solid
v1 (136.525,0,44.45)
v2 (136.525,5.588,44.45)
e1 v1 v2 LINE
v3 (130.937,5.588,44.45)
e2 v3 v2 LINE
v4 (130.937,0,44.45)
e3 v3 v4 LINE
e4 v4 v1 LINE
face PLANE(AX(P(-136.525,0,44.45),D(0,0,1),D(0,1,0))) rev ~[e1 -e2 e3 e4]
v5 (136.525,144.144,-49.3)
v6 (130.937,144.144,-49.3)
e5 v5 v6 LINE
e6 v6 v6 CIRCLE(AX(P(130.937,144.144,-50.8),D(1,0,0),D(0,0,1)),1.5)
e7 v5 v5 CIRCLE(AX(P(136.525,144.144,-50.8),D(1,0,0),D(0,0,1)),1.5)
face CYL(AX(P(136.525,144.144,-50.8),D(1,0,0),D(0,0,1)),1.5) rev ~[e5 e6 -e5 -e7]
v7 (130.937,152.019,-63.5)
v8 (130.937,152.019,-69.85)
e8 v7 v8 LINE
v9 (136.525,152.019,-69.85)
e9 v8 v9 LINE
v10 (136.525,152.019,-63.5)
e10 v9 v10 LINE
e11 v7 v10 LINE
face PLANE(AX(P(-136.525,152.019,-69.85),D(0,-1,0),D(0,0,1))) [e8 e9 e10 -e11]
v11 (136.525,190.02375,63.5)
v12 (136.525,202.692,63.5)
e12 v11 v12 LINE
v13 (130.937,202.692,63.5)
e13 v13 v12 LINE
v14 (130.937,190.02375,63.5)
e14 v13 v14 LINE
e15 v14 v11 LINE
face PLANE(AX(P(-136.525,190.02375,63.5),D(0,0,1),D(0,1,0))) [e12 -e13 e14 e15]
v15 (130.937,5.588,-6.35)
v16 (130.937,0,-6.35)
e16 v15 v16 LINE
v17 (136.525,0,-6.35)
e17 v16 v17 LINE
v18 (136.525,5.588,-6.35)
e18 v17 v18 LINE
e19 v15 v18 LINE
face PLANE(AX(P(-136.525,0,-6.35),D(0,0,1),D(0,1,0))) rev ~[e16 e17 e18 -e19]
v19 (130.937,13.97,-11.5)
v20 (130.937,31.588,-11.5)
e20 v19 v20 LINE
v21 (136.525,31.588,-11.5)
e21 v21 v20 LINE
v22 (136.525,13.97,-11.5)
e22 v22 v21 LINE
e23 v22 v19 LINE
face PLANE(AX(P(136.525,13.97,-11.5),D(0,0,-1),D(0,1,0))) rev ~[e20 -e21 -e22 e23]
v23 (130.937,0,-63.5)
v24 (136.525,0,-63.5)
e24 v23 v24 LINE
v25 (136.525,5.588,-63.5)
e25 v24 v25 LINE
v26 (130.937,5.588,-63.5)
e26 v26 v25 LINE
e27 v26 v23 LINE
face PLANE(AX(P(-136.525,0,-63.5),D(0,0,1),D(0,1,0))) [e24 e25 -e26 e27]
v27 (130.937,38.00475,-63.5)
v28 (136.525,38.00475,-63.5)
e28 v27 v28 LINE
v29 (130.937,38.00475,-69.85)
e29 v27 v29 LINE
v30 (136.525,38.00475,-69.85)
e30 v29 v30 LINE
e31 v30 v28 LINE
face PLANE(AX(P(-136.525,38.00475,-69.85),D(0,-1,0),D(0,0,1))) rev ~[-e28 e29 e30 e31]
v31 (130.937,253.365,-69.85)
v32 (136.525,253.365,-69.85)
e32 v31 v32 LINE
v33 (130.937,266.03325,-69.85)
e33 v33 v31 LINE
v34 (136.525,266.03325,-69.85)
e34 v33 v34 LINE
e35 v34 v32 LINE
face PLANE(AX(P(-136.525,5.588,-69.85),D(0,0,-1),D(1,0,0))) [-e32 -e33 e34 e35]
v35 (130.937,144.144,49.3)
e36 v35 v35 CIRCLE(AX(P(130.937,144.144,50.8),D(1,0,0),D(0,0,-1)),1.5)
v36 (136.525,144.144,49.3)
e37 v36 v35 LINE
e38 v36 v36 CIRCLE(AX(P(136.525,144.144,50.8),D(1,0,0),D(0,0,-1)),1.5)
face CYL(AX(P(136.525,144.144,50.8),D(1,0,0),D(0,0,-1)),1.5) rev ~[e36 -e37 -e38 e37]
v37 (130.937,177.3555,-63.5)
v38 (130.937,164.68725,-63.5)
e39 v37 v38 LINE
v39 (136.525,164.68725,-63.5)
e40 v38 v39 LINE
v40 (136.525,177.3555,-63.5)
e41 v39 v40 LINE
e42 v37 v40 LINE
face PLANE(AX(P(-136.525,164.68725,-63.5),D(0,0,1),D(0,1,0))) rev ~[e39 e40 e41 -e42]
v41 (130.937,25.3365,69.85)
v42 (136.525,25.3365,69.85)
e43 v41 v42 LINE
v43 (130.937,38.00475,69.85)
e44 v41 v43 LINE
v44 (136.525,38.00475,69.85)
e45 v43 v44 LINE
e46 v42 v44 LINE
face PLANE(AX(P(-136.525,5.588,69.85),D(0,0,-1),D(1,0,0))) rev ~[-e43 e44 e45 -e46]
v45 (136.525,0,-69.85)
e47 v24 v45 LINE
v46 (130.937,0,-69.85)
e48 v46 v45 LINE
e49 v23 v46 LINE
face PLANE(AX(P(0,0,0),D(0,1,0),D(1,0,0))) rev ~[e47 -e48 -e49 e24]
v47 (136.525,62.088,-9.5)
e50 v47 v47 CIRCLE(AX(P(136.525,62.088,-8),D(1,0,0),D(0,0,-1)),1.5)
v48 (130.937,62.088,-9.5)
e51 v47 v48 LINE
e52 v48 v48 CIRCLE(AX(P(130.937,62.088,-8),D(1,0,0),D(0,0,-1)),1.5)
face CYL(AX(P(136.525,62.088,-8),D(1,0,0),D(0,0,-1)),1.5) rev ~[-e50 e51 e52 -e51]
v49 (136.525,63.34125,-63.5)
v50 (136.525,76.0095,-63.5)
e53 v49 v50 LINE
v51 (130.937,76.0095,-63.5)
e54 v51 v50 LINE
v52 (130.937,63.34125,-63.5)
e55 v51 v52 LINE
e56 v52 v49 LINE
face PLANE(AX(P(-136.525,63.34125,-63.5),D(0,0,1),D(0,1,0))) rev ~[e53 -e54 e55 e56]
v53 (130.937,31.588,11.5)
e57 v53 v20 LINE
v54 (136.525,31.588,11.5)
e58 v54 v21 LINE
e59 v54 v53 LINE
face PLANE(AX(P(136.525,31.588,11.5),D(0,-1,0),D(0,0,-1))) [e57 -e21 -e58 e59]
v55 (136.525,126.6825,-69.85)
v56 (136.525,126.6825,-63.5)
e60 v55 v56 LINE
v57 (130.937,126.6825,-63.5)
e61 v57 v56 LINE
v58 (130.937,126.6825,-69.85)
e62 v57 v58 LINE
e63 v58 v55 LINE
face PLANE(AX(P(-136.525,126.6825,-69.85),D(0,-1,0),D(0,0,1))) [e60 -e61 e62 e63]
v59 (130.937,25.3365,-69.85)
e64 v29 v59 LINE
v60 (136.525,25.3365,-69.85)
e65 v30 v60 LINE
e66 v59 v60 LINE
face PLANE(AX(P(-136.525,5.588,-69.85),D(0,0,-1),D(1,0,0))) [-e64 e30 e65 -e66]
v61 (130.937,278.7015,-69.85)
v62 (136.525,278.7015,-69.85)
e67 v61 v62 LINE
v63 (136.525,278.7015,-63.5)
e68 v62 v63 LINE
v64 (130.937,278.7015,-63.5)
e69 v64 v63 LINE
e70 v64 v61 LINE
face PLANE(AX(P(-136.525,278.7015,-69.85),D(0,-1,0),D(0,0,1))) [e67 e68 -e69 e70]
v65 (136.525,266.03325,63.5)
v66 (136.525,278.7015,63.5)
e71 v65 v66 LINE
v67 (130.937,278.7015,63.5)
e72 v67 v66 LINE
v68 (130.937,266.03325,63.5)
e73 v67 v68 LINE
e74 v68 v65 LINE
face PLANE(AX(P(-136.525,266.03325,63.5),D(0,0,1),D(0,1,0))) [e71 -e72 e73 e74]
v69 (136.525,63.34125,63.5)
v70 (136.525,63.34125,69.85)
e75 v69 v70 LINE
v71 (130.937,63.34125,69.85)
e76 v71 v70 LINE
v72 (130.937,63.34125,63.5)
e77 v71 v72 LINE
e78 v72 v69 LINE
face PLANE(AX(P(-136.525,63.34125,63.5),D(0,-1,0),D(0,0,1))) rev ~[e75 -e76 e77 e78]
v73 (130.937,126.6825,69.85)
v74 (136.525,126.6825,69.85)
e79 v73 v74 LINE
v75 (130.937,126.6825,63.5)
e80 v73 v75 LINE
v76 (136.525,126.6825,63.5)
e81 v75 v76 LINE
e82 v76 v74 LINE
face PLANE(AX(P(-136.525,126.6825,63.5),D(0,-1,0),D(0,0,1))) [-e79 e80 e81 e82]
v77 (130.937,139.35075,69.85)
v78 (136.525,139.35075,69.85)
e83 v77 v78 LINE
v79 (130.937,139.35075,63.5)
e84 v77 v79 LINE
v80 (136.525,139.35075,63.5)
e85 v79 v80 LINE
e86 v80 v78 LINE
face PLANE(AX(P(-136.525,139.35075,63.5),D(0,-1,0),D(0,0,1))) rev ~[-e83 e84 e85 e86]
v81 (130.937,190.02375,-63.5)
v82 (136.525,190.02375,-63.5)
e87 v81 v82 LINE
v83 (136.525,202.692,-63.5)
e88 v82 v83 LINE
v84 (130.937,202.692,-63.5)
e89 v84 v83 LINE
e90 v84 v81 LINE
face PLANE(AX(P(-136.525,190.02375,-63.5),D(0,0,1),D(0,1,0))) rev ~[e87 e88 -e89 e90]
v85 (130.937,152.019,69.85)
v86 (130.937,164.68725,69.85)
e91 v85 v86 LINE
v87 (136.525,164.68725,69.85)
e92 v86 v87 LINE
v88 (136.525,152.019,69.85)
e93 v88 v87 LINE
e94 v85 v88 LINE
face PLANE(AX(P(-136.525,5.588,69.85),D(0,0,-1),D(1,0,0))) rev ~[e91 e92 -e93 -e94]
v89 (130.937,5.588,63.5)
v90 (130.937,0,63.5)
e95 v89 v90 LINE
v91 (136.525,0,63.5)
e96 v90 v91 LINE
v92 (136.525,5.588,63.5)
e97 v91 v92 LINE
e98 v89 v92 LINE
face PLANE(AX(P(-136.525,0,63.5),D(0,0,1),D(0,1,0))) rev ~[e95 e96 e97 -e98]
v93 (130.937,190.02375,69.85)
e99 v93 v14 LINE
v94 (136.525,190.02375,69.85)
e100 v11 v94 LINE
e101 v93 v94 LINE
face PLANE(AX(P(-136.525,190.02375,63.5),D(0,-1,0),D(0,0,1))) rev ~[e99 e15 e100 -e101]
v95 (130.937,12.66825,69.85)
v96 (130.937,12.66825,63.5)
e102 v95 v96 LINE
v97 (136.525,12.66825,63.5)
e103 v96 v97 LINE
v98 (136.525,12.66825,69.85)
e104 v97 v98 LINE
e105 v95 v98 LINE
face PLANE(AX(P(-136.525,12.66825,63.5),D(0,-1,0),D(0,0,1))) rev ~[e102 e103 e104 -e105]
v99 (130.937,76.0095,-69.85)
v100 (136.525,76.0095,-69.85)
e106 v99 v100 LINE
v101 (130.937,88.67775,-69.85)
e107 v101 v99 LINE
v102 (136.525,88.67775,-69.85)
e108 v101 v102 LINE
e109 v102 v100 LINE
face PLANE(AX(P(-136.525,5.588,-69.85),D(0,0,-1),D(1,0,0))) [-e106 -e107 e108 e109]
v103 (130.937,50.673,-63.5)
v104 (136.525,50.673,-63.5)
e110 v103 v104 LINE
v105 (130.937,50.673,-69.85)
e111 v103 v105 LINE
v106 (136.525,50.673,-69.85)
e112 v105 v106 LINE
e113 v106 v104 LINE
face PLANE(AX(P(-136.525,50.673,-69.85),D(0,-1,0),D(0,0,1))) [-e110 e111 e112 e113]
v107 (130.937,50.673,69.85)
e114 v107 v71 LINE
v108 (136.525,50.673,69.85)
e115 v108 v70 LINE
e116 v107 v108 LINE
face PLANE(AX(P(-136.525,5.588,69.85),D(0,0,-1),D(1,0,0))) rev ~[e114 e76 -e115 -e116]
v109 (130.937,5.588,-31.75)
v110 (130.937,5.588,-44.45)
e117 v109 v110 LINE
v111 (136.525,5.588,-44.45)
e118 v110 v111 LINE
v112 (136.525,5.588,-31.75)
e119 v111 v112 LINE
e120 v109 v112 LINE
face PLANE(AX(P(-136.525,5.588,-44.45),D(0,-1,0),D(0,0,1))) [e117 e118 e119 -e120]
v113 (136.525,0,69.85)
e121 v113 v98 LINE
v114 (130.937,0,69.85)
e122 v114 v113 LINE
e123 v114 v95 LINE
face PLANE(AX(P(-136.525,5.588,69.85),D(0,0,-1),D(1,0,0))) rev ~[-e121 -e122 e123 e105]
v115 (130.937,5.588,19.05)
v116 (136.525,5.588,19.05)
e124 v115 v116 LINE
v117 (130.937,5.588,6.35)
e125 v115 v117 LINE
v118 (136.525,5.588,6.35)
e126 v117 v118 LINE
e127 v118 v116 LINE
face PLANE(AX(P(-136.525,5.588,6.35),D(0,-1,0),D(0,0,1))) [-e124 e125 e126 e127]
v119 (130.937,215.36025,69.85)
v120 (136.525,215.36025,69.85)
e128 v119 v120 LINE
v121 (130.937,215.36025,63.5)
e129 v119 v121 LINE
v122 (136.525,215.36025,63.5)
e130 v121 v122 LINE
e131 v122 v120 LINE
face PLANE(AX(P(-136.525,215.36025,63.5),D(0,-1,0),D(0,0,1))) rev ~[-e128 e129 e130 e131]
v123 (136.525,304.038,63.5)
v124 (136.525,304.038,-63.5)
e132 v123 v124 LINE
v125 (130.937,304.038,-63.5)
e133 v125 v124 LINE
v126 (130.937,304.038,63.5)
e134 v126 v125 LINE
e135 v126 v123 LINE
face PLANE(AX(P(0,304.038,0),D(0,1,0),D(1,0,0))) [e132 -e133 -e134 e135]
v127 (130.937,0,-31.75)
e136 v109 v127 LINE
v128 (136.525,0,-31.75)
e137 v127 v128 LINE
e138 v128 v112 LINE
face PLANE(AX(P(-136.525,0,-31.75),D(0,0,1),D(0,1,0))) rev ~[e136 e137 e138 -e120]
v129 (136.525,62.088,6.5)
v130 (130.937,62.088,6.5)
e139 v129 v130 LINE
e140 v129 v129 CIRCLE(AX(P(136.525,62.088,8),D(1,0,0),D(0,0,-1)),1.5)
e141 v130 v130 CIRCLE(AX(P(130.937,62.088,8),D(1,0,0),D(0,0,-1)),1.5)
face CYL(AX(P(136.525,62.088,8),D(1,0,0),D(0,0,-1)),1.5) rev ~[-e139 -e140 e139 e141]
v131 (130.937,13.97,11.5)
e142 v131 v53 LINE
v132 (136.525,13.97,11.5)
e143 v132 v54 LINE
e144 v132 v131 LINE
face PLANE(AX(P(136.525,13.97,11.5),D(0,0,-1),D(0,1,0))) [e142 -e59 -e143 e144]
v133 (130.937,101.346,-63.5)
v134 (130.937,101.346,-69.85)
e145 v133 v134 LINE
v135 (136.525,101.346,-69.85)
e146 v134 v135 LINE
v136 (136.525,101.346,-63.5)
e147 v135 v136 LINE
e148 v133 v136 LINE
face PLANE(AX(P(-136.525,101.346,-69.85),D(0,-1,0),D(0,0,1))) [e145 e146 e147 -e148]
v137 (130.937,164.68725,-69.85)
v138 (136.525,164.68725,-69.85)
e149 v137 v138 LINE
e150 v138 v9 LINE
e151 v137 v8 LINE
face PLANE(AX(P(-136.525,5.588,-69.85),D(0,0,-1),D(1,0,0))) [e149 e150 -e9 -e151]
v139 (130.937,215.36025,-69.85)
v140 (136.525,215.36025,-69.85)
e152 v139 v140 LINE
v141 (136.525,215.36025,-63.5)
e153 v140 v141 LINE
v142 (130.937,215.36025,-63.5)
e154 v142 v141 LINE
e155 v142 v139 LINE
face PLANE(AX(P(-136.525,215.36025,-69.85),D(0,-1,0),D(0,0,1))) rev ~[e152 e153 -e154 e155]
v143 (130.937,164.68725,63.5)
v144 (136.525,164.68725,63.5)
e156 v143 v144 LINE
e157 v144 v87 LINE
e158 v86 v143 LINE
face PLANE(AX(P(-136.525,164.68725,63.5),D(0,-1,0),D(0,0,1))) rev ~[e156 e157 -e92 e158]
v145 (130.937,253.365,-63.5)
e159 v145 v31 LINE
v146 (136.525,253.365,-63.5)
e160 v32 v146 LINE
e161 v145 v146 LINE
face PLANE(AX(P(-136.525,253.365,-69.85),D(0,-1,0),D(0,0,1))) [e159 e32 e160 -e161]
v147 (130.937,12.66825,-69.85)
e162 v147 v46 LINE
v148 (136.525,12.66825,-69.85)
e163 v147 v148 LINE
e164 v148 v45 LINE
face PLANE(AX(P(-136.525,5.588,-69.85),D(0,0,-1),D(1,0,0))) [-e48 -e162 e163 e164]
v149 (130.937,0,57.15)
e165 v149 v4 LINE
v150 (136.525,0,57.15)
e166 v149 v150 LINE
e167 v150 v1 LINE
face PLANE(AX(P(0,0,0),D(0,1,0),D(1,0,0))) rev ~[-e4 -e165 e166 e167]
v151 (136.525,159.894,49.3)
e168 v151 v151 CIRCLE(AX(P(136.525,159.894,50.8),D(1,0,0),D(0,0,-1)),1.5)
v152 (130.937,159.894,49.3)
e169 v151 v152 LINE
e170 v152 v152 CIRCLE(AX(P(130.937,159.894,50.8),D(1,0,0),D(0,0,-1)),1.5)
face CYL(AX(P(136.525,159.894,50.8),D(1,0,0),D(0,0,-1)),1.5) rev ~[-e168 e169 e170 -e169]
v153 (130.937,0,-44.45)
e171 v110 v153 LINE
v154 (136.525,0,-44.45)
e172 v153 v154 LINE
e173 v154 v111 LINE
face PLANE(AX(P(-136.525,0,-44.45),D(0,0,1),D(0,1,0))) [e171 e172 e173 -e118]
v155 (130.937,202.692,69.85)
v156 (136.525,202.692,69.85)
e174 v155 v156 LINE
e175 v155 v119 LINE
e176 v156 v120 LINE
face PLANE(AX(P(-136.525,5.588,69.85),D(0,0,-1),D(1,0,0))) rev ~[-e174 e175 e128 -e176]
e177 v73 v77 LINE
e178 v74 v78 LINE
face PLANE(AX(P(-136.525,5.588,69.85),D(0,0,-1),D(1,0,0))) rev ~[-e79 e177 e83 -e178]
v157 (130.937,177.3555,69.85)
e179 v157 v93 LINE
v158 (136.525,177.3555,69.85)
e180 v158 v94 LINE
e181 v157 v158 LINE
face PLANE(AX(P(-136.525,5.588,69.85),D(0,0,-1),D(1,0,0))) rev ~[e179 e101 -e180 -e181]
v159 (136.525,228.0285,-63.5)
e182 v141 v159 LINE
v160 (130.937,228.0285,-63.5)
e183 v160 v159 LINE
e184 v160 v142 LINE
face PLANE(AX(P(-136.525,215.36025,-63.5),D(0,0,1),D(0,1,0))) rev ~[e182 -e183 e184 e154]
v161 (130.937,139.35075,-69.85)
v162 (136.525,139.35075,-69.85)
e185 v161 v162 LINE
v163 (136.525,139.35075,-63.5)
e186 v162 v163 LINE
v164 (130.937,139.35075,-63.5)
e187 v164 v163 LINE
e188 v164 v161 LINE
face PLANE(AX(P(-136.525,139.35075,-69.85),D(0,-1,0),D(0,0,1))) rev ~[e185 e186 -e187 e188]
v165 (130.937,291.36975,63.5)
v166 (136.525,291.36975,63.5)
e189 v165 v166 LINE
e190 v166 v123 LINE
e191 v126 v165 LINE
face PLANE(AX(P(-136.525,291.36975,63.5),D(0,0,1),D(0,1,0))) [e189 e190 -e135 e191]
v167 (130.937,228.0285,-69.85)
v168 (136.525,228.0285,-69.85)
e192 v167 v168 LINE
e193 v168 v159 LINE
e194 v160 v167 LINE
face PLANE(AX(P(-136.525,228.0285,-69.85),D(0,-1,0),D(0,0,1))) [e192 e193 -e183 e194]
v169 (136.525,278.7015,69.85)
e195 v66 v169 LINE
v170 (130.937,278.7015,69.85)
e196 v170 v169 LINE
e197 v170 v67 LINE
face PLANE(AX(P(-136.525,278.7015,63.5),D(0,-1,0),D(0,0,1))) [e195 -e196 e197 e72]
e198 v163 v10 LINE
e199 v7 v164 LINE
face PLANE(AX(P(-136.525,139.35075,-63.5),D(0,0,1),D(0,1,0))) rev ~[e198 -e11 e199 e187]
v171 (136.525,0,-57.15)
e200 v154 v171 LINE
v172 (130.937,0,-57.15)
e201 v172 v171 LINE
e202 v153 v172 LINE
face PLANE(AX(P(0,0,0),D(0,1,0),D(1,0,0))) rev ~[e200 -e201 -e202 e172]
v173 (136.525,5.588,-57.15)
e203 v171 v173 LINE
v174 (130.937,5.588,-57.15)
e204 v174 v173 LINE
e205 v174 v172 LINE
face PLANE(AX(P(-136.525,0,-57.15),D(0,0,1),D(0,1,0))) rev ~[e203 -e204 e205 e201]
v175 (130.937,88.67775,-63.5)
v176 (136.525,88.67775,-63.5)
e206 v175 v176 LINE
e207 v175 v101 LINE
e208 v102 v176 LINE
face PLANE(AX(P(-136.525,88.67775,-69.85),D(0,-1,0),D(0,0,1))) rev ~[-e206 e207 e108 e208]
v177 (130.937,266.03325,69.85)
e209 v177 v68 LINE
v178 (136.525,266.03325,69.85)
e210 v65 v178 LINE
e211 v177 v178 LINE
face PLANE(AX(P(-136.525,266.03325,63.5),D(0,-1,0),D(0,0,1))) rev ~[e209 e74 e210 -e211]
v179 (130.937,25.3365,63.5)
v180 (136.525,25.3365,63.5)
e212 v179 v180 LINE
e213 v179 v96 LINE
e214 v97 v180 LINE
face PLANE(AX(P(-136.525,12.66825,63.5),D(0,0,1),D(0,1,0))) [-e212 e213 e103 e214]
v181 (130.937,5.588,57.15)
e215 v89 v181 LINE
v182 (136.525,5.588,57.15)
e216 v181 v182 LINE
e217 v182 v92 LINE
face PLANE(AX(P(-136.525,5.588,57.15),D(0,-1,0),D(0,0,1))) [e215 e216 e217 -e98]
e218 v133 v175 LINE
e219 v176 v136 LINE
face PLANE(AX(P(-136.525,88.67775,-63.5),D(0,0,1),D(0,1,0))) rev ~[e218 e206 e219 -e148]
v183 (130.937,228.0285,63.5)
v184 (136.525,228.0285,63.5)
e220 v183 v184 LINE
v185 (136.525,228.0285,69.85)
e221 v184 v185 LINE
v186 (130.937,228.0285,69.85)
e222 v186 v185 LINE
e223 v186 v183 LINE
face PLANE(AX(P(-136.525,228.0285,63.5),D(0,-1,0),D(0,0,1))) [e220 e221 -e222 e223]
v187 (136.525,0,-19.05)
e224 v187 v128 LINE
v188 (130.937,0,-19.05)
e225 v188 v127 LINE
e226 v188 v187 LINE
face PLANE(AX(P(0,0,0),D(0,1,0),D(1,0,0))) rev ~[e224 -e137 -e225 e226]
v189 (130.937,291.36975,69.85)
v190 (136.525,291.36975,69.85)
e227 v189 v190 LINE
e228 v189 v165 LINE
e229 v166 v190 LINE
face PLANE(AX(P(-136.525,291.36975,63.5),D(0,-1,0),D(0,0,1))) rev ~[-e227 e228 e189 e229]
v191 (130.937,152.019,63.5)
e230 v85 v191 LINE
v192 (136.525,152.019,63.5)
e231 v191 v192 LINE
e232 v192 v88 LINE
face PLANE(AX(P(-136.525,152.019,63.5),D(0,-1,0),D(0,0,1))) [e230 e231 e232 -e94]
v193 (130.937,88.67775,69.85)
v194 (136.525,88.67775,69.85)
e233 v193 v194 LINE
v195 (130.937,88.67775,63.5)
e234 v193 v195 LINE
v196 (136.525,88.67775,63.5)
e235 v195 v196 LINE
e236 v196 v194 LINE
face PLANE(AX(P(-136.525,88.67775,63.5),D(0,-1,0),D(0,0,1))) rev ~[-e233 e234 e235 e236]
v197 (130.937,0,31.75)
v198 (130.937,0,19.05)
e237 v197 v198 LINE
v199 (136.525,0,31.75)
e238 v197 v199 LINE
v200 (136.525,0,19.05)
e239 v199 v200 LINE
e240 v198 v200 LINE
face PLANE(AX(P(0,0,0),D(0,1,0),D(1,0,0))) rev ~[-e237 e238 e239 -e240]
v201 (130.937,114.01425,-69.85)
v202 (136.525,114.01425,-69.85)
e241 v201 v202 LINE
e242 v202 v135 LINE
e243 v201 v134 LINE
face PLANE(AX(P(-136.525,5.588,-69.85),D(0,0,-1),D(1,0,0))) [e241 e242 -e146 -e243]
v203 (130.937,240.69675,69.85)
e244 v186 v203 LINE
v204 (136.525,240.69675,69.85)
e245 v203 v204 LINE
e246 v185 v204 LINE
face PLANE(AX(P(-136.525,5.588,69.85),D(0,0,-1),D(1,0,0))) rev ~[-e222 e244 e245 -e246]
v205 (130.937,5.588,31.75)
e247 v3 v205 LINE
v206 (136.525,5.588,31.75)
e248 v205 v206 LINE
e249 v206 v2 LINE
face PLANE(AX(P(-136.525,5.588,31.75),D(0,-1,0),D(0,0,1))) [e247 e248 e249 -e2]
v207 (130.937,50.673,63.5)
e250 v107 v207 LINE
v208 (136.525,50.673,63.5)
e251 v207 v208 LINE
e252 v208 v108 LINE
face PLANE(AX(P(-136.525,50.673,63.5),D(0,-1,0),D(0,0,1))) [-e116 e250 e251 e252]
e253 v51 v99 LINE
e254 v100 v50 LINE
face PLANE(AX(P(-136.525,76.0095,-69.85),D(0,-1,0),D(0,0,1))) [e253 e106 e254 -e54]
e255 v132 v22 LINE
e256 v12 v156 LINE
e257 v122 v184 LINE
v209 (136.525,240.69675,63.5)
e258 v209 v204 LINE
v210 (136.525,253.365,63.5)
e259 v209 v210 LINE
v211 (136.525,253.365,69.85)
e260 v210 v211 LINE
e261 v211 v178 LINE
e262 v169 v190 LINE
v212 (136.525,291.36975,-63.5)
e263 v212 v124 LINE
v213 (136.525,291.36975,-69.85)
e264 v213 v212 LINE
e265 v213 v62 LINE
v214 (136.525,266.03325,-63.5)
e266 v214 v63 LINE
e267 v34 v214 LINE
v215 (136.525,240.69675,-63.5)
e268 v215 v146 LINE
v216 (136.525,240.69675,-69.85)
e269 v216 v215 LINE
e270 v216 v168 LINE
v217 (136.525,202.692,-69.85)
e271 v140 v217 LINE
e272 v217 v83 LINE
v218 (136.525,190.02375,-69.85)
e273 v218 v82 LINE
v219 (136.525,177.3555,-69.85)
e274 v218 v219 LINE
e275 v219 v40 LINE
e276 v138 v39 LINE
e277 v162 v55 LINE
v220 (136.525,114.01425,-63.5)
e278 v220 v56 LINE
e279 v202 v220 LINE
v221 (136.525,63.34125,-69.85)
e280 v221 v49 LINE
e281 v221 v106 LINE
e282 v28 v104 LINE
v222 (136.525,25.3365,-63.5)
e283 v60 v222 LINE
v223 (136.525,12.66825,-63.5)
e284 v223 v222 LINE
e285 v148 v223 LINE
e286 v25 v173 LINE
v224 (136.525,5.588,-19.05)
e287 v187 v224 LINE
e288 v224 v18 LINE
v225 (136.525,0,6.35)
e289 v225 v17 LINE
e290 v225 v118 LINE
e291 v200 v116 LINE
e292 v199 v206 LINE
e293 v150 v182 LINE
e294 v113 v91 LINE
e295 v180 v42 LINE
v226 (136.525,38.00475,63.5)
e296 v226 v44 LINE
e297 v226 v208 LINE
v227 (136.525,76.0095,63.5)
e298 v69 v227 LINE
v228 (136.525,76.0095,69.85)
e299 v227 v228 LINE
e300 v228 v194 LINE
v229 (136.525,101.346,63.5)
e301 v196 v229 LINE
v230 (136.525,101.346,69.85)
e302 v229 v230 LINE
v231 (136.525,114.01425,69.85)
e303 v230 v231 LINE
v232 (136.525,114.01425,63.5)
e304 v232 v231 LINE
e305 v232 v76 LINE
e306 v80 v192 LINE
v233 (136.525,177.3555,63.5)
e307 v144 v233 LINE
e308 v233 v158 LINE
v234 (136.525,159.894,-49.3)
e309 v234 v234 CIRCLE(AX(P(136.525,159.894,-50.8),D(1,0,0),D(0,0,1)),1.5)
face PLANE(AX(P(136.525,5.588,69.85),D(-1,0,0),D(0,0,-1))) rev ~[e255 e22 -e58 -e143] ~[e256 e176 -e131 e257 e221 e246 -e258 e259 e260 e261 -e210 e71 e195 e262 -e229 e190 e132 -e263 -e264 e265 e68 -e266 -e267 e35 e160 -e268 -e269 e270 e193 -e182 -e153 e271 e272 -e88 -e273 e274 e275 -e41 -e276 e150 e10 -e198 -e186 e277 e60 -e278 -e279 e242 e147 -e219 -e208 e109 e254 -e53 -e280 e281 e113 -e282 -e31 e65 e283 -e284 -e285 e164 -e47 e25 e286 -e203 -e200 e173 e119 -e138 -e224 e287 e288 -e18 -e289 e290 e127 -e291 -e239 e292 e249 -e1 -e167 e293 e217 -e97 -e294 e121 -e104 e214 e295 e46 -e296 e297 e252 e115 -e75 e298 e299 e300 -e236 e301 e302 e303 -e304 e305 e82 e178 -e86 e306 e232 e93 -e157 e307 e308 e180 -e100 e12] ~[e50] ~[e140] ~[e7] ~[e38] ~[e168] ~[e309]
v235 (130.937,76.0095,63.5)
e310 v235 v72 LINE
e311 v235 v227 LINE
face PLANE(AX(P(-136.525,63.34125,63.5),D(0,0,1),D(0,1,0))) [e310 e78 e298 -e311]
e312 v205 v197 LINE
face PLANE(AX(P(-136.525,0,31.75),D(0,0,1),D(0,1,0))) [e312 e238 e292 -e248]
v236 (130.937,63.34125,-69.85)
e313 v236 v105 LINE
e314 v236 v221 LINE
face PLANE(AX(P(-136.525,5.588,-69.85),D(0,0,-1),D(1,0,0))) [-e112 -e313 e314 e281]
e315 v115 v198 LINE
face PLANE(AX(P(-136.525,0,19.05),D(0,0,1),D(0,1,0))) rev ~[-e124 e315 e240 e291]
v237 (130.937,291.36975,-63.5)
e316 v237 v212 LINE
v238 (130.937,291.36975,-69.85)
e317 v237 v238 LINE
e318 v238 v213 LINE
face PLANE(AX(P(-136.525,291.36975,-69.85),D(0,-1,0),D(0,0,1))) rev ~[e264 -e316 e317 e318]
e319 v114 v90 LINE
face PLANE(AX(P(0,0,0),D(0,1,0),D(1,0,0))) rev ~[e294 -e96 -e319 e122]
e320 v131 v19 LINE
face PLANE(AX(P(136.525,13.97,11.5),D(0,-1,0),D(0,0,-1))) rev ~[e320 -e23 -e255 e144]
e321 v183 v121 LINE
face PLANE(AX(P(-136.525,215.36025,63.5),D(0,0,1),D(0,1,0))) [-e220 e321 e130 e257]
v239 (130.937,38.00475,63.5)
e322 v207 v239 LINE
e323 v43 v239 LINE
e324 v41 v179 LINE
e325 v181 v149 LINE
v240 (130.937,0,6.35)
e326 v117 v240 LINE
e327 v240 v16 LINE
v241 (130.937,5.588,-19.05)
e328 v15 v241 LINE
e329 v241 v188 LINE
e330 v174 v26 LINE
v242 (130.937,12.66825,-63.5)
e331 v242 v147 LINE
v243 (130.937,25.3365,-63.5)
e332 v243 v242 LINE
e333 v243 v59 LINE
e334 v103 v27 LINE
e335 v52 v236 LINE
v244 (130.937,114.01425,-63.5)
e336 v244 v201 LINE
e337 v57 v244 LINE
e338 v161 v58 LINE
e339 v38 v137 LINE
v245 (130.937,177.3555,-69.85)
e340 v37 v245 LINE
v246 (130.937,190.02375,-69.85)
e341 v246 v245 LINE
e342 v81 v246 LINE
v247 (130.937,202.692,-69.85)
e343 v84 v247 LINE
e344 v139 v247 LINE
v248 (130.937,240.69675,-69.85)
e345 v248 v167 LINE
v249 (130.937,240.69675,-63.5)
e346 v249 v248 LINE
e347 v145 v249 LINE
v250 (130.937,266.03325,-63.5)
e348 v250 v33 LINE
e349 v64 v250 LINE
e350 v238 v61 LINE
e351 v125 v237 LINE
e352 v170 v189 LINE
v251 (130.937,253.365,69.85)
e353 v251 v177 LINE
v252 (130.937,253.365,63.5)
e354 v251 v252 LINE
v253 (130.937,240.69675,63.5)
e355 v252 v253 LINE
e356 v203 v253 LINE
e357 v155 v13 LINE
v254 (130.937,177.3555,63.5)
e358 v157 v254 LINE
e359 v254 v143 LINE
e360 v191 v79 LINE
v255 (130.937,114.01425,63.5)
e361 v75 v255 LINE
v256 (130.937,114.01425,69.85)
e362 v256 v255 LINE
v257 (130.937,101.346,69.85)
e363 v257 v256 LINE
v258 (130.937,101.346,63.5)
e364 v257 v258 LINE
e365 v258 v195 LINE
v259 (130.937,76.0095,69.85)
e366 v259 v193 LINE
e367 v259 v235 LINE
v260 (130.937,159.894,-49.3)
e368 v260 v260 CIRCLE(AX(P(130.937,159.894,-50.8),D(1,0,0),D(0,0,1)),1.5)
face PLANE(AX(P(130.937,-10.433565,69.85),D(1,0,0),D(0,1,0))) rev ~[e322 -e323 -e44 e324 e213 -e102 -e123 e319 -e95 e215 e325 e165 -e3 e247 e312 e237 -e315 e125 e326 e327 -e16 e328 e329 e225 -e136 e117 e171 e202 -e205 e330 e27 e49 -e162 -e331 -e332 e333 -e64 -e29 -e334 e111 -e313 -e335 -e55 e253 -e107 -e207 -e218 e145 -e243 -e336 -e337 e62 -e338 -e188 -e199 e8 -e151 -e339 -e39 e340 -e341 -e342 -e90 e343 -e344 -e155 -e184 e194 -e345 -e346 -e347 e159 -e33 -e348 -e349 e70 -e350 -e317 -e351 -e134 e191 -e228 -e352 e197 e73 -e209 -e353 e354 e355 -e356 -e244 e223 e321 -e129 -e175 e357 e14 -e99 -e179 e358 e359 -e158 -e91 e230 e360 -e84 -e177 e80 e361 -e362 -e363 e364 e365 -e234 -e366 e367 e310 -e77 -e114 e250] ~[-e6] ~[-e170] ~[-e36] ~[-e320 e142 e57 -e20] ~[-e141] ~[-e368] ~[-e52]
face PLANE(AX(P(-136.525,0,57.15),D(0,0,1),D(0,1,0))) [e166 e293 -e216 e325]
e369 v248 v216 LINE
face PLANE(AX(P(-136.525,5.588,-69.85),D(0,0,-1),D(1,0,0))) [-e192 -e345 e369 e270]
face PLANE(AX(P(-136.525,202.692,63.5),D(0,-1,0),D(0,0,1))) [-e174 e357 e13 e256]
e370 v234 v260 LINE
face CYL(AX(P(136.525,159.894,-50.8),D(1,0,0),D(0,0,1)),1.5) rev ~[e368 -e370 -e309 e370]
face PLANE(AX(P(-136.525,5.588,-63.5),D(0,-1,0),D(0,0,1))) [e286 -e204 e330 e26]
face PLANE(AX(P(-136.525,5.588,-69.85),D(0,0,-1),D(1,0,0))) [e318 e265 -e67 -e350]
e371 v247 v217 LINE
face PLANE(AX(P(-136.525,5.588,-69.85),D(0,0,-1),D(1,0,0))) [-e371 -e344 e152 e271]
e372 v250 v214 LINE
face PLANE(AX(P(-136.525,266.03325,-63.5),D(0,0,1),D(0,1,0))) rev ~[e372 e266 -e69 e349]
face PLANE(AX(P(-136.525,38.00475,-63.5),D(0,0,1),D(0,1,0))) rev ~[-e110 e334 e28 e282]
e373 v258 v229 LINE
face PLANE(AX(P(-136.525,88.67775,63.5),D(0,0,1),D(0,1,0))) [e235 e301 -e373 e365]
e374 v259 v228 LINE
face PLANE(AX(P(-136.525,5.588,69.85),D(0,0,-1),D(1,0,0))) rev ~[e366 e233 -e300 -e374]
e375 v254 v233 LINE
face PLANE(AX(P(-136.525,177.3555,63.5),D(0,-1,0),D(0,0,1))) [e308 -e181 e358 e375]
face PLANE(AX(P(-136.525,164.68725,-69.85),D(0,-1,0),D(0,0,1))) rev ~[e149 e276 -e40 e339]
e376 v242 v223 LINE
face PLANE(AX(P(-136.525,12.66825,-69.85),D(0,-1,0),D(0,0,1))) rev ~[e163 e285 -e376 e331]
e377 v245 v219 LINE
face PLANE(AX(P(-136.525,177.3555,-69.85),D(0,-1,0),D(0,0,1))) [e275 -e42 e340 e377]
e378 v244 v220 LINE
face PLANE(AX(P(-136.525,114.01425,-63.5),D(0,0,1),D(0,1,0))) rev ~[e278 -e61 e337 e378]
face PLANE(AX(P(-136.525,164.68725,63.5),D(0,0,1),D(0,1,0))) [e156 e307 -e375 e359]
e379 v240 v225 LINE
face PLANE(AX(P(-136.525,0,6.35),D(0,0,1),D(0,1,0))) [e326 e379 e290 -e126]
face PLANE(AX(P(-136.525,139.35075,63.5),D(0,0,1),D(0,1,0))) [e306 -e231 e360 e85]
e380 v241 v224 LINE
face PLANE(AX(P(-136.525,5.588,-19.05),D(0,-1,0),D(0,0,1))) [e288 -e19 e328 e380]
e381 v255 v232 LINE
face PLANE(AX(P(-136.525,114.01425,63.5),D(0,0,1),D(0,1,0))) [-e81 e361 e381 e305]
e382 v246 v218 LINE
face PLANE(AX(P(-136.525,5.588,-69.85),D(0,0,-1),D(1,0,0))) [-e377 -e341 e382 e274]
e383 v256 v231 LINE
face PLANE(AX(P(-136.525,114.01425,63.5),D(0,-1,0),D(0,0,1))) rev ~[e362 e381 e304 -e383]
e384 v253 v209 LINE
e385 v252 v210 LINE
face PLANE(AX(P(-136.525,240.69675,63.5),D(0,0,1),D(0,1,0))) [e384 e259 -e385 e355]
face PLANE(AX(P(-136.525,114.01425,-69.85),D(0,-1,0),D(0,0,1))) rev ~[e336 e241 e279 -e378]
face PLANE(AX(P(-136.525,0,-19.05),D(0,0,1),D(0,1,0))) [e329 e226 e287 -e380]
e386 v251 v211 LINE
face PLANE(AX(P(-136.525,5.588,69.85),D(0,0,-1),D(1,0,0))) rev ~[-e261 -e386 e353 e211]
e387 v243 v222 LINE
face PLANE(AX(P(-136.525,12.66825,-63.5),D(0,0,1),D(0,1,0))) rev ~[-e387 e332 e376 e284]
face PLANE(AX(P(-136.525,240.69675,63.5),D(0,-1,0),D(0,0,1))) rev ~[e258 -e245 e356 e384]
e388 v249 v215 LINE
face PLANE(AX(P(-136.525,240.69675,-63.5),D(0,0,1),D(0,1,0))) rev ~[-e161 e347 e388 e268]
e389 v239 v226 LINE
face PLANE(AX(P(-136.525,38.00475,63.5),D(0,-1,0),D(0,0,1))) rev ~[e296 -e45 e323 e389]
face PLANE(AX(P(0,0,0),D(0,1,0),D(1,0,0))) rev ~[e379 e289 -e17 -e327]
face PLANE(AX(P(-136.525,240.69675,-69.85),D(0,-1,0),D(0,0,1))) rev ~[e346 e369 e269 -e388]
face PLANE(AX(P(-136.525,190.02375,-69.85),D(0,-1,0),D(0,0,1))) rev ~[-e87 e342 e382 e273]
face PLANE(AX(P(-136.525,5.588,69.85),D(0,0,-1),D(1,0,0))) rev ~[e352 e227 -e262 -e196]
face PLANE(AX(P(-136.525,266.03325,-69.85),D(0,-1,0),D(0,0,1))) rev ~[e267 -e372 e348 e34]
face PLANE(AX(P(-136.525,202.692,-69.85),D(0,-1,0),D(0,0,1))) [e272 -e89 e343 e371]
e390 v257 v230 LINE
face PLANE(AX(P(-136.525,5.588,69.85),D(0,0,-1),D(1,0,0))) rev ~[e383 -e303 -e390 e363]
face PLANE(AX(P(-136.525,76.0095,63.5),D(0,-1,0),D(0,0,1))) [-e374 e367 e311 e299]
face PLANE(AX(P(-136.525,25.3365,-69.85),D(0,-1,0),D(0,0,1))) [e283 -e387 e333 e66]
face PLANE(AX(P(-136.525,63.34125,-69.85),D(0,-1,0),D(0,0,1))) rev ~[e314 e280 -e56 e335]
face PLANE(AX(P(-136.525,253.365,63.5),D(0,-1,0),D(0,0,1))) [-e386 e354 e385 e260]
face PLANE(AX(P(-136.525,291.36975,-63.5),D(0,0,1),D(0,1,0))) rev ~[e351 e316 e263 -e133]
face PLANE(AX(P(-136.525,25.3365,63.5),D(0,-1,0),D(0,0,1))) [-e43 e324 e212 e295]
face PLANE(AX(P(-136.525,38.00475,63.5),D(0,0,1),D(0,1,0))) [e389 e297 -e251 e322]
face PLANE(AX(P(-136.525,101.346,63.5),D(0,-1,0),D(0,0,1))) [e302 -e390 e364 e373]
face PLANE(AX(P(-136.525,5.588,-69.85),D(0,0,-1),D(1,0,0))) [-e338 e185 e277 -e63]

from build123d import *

# Parameters (mm, degrees)
SKETCH1_W              = 273.05
SKETCH1_H              = 139.7
BOSS_EXTRUDE1_DEPTH    = 5.588
SKETCH2_W              = 273.05
SKETCH2_H              = 139.7
SKETCH2_W_2            = 261.874
SKETCH2_H_2            = 128.524
BOSS_EXTRUDE2_DEPTH    = 298.45
SKETCH3_W              = 6.35
SKETCH3_H              = 16.933333333
SKETCH3_H_2            = 16.933333334
DOOR_SLOT_DEPTH        = 12.7
DOOR_GUIDE_HOLES_REACH = 361.255
SKETCH4_W              = 6.35
SKETCH4_H              = 15.875
LEVER_HOLES_W          = 9.652
LEVER_HOLES_H          = 6.35
LEVER_HOLES_W_2        = 6.35
CUT_EXTRUDE1_DEPTH     = 362.378293578
CUT_EXTRUDE3_REACH     = 416.577
SKETCH8_R              = 3.175
SKETCH16_W             = 327.238778096
SKETCH16_H             = 314.471565403
CUT_EXTRUDE10_DEPTH    = 362.378293578
LEFT_RIGHT_W           = 6.35
LEFT_RIGHT_H           = 5.588
LEFT_RIGHT_W_2         = 12.7
LEFT_RIGHT_H_2         = 12.66825
CUT_EXTRUDE11_DEPTH    = 415.577411883
SKETCH17_R             = 1.5
SKETCH17_W             = 23
SKETCH17_H             = 17.61800007
CUT_EXTRUDE12_DEPTH    = 313.00857951


with BuildPart() as part:
    # Sketch1 → Boss-Extrude1 (new body)
    with BuildSketch(Plane(origin=(0, 0, 0), x_dir=(1, 0, 0), z_dir=(0, 1, 0))):
        Rectangle(SKETCH1_W, SKETCH1_H)
    extrude(amount=BOSS_EXTRUDE1_DEPTH)

    # Sketch2 → Boss-Extrude2 (add)
    with BuildSketch(Plane(origin=(0, 5.588, 0), x_dir=(1, 0, 0), z_dir=(0, 1, 0))):
        Rectangle(SKETCH2_W, SKETCH2_H)
        Rectangle(SKETCH2_W_2, SKETCH2_H_2, mode=Mode.SUBTRACT)
    extrude(amount=BOSS_EXTRUDE2_DEPTH)

    # Sketch3 → Door Slot (cut)
    with BuildSketch(Plane.XY.offset(69.85)):
        with BuildLine():
            Line((-29.337, 282.448), (-29.337, 5.588))
            Line((-29.337, 5.588), (-22.733, 5.588))
            Line((-22.733, 5.588), (-22.733, 291.592))
            Line((-22.733, 291.592), (-42.291, 291.592))
            Line((-42.291, 291.592), (-42.291, 284.988))
            Line((-42.291, 284.988), (-31.877, 284.988))
            ThreePointArc((-31.877, 284.988), (-30.080948776, 284.244051224), (-29.337, 282.448))
        make_face()
        with Locations((-13.208, 80.433333334)):
            Rectangle(SKETCH3_W, SKETCH3_H)
        with Locations((-13.208, 50.8)):
            Rectangle(SKETCH3_W, SKETCH3_H_2)
        with Locations((-13.208, 21.166666667)):
            Rectangle(SKETCH3_W, SKETCH3_H)
    extrude(amount=-DOOR_SLOT_DEPTH, mode=Mode.SUBTRACT)

    # Sketch4 → Door Guide Holes (cut, up to next)
    with BuildSketch(Plane.XY.offset(-64.262), mode=Mode.PRIVATE) as door_guide_holes_sk1:
        with Locations((-45.466, 283.4005)):
            Rectangle(SKETCH4_W, SKETCH4_H)
    door_guide_holes_tool1 = extrude(door_guide_holes_sk1.sketch, amount=-DOOR_GUIDE_HOLES_REACH, mode=Mode.PRIVATE) & part.part
    # Sketch4 → Door Guide Holes (cut, up to next)
    with BuildSketch(Plane.XY.offset(-64.262), mode=Mode.PRIVATE) as door_guide_holes_sk2:
        with Locations((-45.466, 254.8255)):
            Rectangle(SKETCH4_W, SKETCH4_H)
    door_guide_holes_tool2 = extrude(door_guide_holes_sk2.sketch, amount=-DOOR_GUIDE_HOLES_REACH, mode=Mode.PRIVATE) & part.part
    # Sketch4 → Door Guide Holes (cut, up to next)
    with BuildSketch(Plane.XY.offset(-64.262), mode=Mode.PRIVATE) as door_guide_holes_sk3:
        with Locations((-45.466, 226.2505)):
            Rectangle(SKETCH4_W, SKETCH4_H)
    door_guide_holes_tool3 = extrude(door_guide_holes_sk3.sketch, amount=-DOOR_GUIDE_HOLES_REACH, mode=Mode.PRIVATE) & part.part
    # Sketch4 → Door Guide Holes (cut, up to next)
    with BuildSketch(Plane.XY.offset(-64.262), mode=Mode.PRIVATE) as door_guide_holes_sk4:
        with Locations((-45.466, 197.6755)):
            Rectangle(SKETCH4_W, SKETCH4_H)
    door_guide_holes_tool4 = extrude(door_guide_holes_sk4.sketch, amount=-DOOR_GUIDE_HOLES_REACH, mode=Mode.PRIVATE) & part.part
    # Sketch4 → Door Guide Holes (cut, up to next)
    with BuildSketch(Plane.XY.offset(-64.262), mode=Mode.PRIVATE) as door_guide_holes_sk5:
        with Locations((-45.466, 169.1005)):
            Rectangle(SKETCH4_W, SKETCH4_H)
    door_guide_holes_tool5 = extrude(door_guide_holes_sk5.sketch, amount=-DOOR_GUIDE_HOLES_REACH, mode=Mode.PRIVATE) & part.part
    # Sketch4 → Door Guide Holes (cut, up to next)
    with BuildSketch(Plane.XY.offset(-64.262), mode=Mode.PRIVATE) as door_guide_holes_sk6:
        with Locations((-45.466, 140.5255)):
            Rectangle(SKETCH4_W, SKETCH4_H)
    door_guide_holes_tool6 = extrude(door_guide_holes_sk6.sketch, amount=-DOOR_GUIDE_HOLES_REACH, mode=Mode.PRIVATE) & part.part
    # Sketch4 → Door Guide Holes (cut, up to next)
    with BuildSketch(Plane.XY.offset(-64.262), mode=Mode.PRIVATE) as door_guide_holes_sk7:
        with Locations((-45.466, 111.9505)):
            Rectangle(SKETCH4_W, SKETCH4_H)
    door_guide_holes_tool7 = extrude(door_guide_holes_sk7.sketch, amount=-DOOR_GUIDE_HOLES_REACH, mode=Mode.PRIVATE) & part.part
    # Sketch4 → Door Guide Holes (cut, up to next)
    with BuildSketch(Plane.XY.offset(-64.262), mode=Mode.PRIVATE) as door_guide_holes_sk8:
        with Locations((-45.466, 83.3755)):
            Rectangle(SKETCH4_W, SKETCH4_H)
    door_guide_holes_tool8 = extrude(door_guide_holes_sk8.sketch, amount=-DOOR_GUIDE_HOLES_REACH, mode=Mode.PRIVATE) & part.part
    # Sketch4 → Door Guide Holes (cut, up to next)
    with BuildSketch(Plane.XY.offset(-64.262), mode=Mode.PRIVATE) as door_guide_holes_sk9:
        with Locations((-45.466, 54.8005)):
            Rectangle(SKETCH4_W, SKETCH4_H)
    door_guide_holes_tool9 = extrude(door_guide_holes_sk9.sketch, amount=-DOOR_GUIDE_HOLES_REACH, mode=Mode.PRIVATE) & part.part
    # Sketch4 → Door Guide Holes (cut, up to next)
    with BuildSketch(Plane.XY.offset(-64.262), mode=Mode.PRIVATE) as door_guide_holes_sk10:
        with Locations((-45.466, 26.2255)):
            Rectangle(SKETCH4_W, SKETCH4_H)
    door_guide_holes_tool10 = extrude(door_guide_holes_sk10.sketch, amount=-DOOR_GUIDE_HOLES_REACH, mode=Mode.PRIVATE) & part.part
    door_guide_holes_1 = door_guide_holes_tool1.solids().sort_by_distance((-45.466, 283.4005, -64.262))[0]
    add(door_guide_holes_1, mode=Mode.SUBTRACT)
    door_guide_holes_2 = door_guide_holes_tool2.solids().sort_by_distance((-45.466, 254.8255, -64.262))[0]
    add(door_guide_holes_2, mode=Mode.SUBTRACT)
    door_guide_holes_3 = door_guide_holes_tool3.solids().sort_by_distance((-45.466, 226.2505, -64.262))[0]
    add(door_guide_holes_3, mode=Mode.SUBTRACT)
    door_guide_holes_4 = door_guide_holes_tool4.solids().sort_by_distance((-45.466, 197.6755, -64.262))[0]
    add(door_guide_holes_4, mode=Mode.SUBTRACT)
    door_guide_holes_5 = door_guide_holes_tool5.solids().sort_by_distance((-45.466, 169.1005, -64.262))[0]
    add(door_guide_holes_5, mode=Mode.SUBTRACT)
    door_guide_holes_6 = door_guide_holes_tool6.solids().sort_by_distance((-45.466, 140.5255, -64.262))[0]
    add(door_guide_holes_6, mode=Mode.SUBTRACT)
    door_guide_holes_7 = door_guide_holes_tool7.solids().sort_by_distance((-45.466, 111.9505, -64.262))[0]
    add(door_guide_holes_7, mode=Mode.SUBTRACT)
    door_guide_holes_8 = door_guide_holes_tool8.solids().sort_by_distance((-45.466, 83.3755, -64.262))[0]
    add(door_guide_holes_8, mode=Mode.SUBTRACT)
    door_guide_holes_9 = door_guide_holes_tool9.solids().sort_by_distance((-45.466, 54.8005, -64.262))[0]
    add(door_guide_holes_9, mode=Mode.SUBTRACT)
    door_guide_holes_10 = door_guide_holes_tool10.solids().sort_by_distance((-45.466, 26.2255, -64.262))[0]
    add(door_guide_holes_10, mode=Mode.SUBTRACT)
    door_guide_holes = door_guide_holes_1 + door_guide_holes_2 + door_guide_holes_3 + door_guide_holes_4 + door_guide_holes_5 + door_guide_holes_6 + door_guide_holes_7 + door_guide_holes_8 + door_guide_holes_9 + door_guide_holes_10  # Door Guide Holes as one shape, for the pattern or mirror that repeats it

    # Mirror1: Door Guide Holes across plane
    add(door_guide_holes.mirror(Plane.ZY.offset(32.512)), mode=Mode.SUBTRACT)

    # Lever Holes → Cut-Extrude1 (cut, through all)
    with BuildSketch(Plane.XY.offset(69.85)):
        with Locations((54.102, 28.575)):
            Rectangle(LEVER_HOLES_W, LEVER_HOLES_H)
        with Locations((39.3065, 15.875)):
            Rectangle(LEVER_HOLES_W_2, LEVER_HOLES_H)
        with Locations((68.8975, 15.875)):
            Rectangle(LEVER_HOLES_W_2, LEVER_HOLES_H)
    extrude(amount=-CUT_EXTRUDE1_DEPTH, mode=Mode.SUBTRACT)

    # Sketch8 → Cut-Extrude3 (cut, up to next)
    with BuildSketch(Plane.ZY.offset(136.525), mode=Mode.PRIVATE) as cut_extrude3_sk1:
        with Locations((0, 19.05)):
            Circle(SKETCH8_R)
    cut_extrude3_tool1 = extrude(cut_extrude3_sk1.sketch, amount=-CUT_EXTRUDE3_REACH, mode=Mode.PRIVATE) & part.part
    add(cut_extrude3_tool1.solids().sort_by_distance((-136.525, 19.05, 0))[0], mode=Mode.SUBTRACT)

    # Sketch16 → Cut-Extrude10 (cut, through all)
    with BuildSketch(Plane.XY.offset(69.85)):
        with Locations((-32.682389048, 146.802217299)):
            Rectangle(SKETCH16_W, SKETCH16_H)
    extrude(amount=-CUT_EXTRUDE10_DEPTH, mode=Mode.SUBTRACT)

    # Left/Right → Cut-Extrude11 (cut, through all)
    with BuildSketch(Plane.ZY.offset(136.525)):
        with Locations((60.325, 2.794)):
            Rectangle(LEFT_RIGHT_W, LEFT_RIGHT_H)
        with Locations((38.1, 2.794)):
            Rectangle(LEFT_RIGHT_W_2, LEFT_RIGHT_H)
        with Locations((66.675, 19.002375)):
            Rectangle(LEFT_RIGHT_W, LEFT_RIGHT_H_2)
        with Locations((12.7, 2.794)):
            Rectangle(LEFT_RIGHT_W_2, LEFT_RIGHT_H)
        with Locations((66.675, 44.338875)):
            Rectangle(LEFT_RIGHT_W, LEFT_RIGHT_H_2)
        with Locations((-12.7, 2.794)):
            Rectangle(LEFT_RIGHT_W_2, LEFT_RIGHT_H)
        with Locations((66.675, 69.675375)):
            Rectangle(LEFT_RIGHT_W, LEFT_RIGHT_H_2)
        with Locations((-38.1, 2.794)):
            Rectangle(LEFT_RIGHT_W_2, LEFT_RIGHT_H)
        with Locations((66.675, 95.011875)):
            Rectangle(LEFT_RIGHT_W, LEFT_RIGHT_H_2)
        with Locations((-60.325, 2.794)):
            Rectangle(LEFT_RIGHT_W, LEFT_RIGHT_H)
        with Locations((66.675, 120.348375)):
            Rectangle(LEFT_RIGHT_W, LEFT_RIGHT_H_2)
        with Locations((-66.675, 19.002375)):
            Rectangle(LEFT_RIGHT_W, LEFT_RIGHT_H_2)
        with Locations((66.675, 145.684875)):
            Rectangle(LEFT_RIGHT_W, LEFT_RIGHT_H_2)
        with Locations((-66.675, 44.338875)):
            Rectangle(LEFT_RIGHT_W, LEFT_RIGHT_H_2)
        with Locations((66.675, 171.021375)):
            Rectangle(LEFT_RIGHT_W, LEFT_RIGHT_H_2)
        with Locations((-66.675, 69.675375)):
            Rectangle(LEFT_RIGHT_W, LEFT_RIGHT_H_2)
        with Locations((66.675, 196.357875)):
            Rectangle(LEFT_RIGHT_W, LEFT_RIGHT_H_2)
        with Locations((-66.675, 95.011875)):
            Rectangle(LEFT_RIGHT_W, LEFT_RIGHT_H_2)
        with Locations((66.675, 221.694375)):
            Rectangle(LEFT_RIGHT_W, LEFT_RIGHT_H_2)
        with Locations((-66.675, 120.348375)):
            Rectangle(LEFT_RIGHT_W, LEFT_RIGHT_H_2)
        with Locations((66.675, 247.030875)):
            Rectangle(LEFT_RIGHT_W, LEFT_RIGHT_H_2)
        with Locations((-66.675, 145.684875)):
            Rectangle(LEFT_RIGHT_W, LEFT_RIGHT_H_2)
        with Locations((66.675, 272.367375)):
            Rectangle(LEFT_RIGHT_W, LEFT_RIGHT_H_2)
        with Locations((-66.675, 171.021375)):
            Rectangle(LEFT_RIGHT_W, LEFT_RIGHT_H_2)
        with Locations((66.675, 297.703875)):
            Rectangle(LEFT_RIGHT_W, LEFT_RIGHT_H_2)
        with Locations((-66.675, 196.357875)):
            Rectangle(LEFT_RIGHT_W, LEFT_RIGHT_H_2)
        with Locations((-66.675, 221.694375)):
            Rectangle(LEFT_RIGHT_W, LEFT_RIGHT_H_2)
        with Locations((-66.675, 247.030875)):
            Rectangle(LEFT_RIGHT_W, LEFT_RIGHT_H_2)
        with Locations((-66.675, 272.367375)):
            Rectangle(LEFT_RIGHT_W, LEFT_RIGHT_H_2)
        with Locations((-66.675, 297.703875)):
            Rectangle(LEFT_RIGHT_W, LEFT_RIGHT_H_2)
    extrude(amount=-CUT_EXTRUDE11_DEPTH, mode=Mode.SUBTRACT)

    # Sketch17 → Cut-Extrude12 (cut, through all)
    with BuildSketch(Plane(origin=(136.525, 0, 0), x_dir=(0, 0, -1), z_dir=(1, 0, 0))):
        with Locations((-8, 62.088)):
            Circle(SKETCH17_R)
        with Locations((8, 62.088)):
            Circle(SKETCH17_R)
        with Locations((-50.8, 159.894)):
            Circle(SKETCH17_R)
        with Locations((-50.8, 144.144)):
            Circle(SKETCH17_R)
        with Locations(Location((50.8, 144.144, 0), (0, 0, 180))):
            Circle(SKETCH17_R)
        with Locations(Location((50.8, 159.894, 0), (0, 0, 180))):
            Circle(SKETCH17_R)
        with Locations((0, 22.779000035)):
            Rectangle(SKETCH17_W, SKETCH17_H)
    extrude(amount=-CUT_EXTRUDE12_DEPTH, mode=Mode.SUBTRACT)


solid = part.part
